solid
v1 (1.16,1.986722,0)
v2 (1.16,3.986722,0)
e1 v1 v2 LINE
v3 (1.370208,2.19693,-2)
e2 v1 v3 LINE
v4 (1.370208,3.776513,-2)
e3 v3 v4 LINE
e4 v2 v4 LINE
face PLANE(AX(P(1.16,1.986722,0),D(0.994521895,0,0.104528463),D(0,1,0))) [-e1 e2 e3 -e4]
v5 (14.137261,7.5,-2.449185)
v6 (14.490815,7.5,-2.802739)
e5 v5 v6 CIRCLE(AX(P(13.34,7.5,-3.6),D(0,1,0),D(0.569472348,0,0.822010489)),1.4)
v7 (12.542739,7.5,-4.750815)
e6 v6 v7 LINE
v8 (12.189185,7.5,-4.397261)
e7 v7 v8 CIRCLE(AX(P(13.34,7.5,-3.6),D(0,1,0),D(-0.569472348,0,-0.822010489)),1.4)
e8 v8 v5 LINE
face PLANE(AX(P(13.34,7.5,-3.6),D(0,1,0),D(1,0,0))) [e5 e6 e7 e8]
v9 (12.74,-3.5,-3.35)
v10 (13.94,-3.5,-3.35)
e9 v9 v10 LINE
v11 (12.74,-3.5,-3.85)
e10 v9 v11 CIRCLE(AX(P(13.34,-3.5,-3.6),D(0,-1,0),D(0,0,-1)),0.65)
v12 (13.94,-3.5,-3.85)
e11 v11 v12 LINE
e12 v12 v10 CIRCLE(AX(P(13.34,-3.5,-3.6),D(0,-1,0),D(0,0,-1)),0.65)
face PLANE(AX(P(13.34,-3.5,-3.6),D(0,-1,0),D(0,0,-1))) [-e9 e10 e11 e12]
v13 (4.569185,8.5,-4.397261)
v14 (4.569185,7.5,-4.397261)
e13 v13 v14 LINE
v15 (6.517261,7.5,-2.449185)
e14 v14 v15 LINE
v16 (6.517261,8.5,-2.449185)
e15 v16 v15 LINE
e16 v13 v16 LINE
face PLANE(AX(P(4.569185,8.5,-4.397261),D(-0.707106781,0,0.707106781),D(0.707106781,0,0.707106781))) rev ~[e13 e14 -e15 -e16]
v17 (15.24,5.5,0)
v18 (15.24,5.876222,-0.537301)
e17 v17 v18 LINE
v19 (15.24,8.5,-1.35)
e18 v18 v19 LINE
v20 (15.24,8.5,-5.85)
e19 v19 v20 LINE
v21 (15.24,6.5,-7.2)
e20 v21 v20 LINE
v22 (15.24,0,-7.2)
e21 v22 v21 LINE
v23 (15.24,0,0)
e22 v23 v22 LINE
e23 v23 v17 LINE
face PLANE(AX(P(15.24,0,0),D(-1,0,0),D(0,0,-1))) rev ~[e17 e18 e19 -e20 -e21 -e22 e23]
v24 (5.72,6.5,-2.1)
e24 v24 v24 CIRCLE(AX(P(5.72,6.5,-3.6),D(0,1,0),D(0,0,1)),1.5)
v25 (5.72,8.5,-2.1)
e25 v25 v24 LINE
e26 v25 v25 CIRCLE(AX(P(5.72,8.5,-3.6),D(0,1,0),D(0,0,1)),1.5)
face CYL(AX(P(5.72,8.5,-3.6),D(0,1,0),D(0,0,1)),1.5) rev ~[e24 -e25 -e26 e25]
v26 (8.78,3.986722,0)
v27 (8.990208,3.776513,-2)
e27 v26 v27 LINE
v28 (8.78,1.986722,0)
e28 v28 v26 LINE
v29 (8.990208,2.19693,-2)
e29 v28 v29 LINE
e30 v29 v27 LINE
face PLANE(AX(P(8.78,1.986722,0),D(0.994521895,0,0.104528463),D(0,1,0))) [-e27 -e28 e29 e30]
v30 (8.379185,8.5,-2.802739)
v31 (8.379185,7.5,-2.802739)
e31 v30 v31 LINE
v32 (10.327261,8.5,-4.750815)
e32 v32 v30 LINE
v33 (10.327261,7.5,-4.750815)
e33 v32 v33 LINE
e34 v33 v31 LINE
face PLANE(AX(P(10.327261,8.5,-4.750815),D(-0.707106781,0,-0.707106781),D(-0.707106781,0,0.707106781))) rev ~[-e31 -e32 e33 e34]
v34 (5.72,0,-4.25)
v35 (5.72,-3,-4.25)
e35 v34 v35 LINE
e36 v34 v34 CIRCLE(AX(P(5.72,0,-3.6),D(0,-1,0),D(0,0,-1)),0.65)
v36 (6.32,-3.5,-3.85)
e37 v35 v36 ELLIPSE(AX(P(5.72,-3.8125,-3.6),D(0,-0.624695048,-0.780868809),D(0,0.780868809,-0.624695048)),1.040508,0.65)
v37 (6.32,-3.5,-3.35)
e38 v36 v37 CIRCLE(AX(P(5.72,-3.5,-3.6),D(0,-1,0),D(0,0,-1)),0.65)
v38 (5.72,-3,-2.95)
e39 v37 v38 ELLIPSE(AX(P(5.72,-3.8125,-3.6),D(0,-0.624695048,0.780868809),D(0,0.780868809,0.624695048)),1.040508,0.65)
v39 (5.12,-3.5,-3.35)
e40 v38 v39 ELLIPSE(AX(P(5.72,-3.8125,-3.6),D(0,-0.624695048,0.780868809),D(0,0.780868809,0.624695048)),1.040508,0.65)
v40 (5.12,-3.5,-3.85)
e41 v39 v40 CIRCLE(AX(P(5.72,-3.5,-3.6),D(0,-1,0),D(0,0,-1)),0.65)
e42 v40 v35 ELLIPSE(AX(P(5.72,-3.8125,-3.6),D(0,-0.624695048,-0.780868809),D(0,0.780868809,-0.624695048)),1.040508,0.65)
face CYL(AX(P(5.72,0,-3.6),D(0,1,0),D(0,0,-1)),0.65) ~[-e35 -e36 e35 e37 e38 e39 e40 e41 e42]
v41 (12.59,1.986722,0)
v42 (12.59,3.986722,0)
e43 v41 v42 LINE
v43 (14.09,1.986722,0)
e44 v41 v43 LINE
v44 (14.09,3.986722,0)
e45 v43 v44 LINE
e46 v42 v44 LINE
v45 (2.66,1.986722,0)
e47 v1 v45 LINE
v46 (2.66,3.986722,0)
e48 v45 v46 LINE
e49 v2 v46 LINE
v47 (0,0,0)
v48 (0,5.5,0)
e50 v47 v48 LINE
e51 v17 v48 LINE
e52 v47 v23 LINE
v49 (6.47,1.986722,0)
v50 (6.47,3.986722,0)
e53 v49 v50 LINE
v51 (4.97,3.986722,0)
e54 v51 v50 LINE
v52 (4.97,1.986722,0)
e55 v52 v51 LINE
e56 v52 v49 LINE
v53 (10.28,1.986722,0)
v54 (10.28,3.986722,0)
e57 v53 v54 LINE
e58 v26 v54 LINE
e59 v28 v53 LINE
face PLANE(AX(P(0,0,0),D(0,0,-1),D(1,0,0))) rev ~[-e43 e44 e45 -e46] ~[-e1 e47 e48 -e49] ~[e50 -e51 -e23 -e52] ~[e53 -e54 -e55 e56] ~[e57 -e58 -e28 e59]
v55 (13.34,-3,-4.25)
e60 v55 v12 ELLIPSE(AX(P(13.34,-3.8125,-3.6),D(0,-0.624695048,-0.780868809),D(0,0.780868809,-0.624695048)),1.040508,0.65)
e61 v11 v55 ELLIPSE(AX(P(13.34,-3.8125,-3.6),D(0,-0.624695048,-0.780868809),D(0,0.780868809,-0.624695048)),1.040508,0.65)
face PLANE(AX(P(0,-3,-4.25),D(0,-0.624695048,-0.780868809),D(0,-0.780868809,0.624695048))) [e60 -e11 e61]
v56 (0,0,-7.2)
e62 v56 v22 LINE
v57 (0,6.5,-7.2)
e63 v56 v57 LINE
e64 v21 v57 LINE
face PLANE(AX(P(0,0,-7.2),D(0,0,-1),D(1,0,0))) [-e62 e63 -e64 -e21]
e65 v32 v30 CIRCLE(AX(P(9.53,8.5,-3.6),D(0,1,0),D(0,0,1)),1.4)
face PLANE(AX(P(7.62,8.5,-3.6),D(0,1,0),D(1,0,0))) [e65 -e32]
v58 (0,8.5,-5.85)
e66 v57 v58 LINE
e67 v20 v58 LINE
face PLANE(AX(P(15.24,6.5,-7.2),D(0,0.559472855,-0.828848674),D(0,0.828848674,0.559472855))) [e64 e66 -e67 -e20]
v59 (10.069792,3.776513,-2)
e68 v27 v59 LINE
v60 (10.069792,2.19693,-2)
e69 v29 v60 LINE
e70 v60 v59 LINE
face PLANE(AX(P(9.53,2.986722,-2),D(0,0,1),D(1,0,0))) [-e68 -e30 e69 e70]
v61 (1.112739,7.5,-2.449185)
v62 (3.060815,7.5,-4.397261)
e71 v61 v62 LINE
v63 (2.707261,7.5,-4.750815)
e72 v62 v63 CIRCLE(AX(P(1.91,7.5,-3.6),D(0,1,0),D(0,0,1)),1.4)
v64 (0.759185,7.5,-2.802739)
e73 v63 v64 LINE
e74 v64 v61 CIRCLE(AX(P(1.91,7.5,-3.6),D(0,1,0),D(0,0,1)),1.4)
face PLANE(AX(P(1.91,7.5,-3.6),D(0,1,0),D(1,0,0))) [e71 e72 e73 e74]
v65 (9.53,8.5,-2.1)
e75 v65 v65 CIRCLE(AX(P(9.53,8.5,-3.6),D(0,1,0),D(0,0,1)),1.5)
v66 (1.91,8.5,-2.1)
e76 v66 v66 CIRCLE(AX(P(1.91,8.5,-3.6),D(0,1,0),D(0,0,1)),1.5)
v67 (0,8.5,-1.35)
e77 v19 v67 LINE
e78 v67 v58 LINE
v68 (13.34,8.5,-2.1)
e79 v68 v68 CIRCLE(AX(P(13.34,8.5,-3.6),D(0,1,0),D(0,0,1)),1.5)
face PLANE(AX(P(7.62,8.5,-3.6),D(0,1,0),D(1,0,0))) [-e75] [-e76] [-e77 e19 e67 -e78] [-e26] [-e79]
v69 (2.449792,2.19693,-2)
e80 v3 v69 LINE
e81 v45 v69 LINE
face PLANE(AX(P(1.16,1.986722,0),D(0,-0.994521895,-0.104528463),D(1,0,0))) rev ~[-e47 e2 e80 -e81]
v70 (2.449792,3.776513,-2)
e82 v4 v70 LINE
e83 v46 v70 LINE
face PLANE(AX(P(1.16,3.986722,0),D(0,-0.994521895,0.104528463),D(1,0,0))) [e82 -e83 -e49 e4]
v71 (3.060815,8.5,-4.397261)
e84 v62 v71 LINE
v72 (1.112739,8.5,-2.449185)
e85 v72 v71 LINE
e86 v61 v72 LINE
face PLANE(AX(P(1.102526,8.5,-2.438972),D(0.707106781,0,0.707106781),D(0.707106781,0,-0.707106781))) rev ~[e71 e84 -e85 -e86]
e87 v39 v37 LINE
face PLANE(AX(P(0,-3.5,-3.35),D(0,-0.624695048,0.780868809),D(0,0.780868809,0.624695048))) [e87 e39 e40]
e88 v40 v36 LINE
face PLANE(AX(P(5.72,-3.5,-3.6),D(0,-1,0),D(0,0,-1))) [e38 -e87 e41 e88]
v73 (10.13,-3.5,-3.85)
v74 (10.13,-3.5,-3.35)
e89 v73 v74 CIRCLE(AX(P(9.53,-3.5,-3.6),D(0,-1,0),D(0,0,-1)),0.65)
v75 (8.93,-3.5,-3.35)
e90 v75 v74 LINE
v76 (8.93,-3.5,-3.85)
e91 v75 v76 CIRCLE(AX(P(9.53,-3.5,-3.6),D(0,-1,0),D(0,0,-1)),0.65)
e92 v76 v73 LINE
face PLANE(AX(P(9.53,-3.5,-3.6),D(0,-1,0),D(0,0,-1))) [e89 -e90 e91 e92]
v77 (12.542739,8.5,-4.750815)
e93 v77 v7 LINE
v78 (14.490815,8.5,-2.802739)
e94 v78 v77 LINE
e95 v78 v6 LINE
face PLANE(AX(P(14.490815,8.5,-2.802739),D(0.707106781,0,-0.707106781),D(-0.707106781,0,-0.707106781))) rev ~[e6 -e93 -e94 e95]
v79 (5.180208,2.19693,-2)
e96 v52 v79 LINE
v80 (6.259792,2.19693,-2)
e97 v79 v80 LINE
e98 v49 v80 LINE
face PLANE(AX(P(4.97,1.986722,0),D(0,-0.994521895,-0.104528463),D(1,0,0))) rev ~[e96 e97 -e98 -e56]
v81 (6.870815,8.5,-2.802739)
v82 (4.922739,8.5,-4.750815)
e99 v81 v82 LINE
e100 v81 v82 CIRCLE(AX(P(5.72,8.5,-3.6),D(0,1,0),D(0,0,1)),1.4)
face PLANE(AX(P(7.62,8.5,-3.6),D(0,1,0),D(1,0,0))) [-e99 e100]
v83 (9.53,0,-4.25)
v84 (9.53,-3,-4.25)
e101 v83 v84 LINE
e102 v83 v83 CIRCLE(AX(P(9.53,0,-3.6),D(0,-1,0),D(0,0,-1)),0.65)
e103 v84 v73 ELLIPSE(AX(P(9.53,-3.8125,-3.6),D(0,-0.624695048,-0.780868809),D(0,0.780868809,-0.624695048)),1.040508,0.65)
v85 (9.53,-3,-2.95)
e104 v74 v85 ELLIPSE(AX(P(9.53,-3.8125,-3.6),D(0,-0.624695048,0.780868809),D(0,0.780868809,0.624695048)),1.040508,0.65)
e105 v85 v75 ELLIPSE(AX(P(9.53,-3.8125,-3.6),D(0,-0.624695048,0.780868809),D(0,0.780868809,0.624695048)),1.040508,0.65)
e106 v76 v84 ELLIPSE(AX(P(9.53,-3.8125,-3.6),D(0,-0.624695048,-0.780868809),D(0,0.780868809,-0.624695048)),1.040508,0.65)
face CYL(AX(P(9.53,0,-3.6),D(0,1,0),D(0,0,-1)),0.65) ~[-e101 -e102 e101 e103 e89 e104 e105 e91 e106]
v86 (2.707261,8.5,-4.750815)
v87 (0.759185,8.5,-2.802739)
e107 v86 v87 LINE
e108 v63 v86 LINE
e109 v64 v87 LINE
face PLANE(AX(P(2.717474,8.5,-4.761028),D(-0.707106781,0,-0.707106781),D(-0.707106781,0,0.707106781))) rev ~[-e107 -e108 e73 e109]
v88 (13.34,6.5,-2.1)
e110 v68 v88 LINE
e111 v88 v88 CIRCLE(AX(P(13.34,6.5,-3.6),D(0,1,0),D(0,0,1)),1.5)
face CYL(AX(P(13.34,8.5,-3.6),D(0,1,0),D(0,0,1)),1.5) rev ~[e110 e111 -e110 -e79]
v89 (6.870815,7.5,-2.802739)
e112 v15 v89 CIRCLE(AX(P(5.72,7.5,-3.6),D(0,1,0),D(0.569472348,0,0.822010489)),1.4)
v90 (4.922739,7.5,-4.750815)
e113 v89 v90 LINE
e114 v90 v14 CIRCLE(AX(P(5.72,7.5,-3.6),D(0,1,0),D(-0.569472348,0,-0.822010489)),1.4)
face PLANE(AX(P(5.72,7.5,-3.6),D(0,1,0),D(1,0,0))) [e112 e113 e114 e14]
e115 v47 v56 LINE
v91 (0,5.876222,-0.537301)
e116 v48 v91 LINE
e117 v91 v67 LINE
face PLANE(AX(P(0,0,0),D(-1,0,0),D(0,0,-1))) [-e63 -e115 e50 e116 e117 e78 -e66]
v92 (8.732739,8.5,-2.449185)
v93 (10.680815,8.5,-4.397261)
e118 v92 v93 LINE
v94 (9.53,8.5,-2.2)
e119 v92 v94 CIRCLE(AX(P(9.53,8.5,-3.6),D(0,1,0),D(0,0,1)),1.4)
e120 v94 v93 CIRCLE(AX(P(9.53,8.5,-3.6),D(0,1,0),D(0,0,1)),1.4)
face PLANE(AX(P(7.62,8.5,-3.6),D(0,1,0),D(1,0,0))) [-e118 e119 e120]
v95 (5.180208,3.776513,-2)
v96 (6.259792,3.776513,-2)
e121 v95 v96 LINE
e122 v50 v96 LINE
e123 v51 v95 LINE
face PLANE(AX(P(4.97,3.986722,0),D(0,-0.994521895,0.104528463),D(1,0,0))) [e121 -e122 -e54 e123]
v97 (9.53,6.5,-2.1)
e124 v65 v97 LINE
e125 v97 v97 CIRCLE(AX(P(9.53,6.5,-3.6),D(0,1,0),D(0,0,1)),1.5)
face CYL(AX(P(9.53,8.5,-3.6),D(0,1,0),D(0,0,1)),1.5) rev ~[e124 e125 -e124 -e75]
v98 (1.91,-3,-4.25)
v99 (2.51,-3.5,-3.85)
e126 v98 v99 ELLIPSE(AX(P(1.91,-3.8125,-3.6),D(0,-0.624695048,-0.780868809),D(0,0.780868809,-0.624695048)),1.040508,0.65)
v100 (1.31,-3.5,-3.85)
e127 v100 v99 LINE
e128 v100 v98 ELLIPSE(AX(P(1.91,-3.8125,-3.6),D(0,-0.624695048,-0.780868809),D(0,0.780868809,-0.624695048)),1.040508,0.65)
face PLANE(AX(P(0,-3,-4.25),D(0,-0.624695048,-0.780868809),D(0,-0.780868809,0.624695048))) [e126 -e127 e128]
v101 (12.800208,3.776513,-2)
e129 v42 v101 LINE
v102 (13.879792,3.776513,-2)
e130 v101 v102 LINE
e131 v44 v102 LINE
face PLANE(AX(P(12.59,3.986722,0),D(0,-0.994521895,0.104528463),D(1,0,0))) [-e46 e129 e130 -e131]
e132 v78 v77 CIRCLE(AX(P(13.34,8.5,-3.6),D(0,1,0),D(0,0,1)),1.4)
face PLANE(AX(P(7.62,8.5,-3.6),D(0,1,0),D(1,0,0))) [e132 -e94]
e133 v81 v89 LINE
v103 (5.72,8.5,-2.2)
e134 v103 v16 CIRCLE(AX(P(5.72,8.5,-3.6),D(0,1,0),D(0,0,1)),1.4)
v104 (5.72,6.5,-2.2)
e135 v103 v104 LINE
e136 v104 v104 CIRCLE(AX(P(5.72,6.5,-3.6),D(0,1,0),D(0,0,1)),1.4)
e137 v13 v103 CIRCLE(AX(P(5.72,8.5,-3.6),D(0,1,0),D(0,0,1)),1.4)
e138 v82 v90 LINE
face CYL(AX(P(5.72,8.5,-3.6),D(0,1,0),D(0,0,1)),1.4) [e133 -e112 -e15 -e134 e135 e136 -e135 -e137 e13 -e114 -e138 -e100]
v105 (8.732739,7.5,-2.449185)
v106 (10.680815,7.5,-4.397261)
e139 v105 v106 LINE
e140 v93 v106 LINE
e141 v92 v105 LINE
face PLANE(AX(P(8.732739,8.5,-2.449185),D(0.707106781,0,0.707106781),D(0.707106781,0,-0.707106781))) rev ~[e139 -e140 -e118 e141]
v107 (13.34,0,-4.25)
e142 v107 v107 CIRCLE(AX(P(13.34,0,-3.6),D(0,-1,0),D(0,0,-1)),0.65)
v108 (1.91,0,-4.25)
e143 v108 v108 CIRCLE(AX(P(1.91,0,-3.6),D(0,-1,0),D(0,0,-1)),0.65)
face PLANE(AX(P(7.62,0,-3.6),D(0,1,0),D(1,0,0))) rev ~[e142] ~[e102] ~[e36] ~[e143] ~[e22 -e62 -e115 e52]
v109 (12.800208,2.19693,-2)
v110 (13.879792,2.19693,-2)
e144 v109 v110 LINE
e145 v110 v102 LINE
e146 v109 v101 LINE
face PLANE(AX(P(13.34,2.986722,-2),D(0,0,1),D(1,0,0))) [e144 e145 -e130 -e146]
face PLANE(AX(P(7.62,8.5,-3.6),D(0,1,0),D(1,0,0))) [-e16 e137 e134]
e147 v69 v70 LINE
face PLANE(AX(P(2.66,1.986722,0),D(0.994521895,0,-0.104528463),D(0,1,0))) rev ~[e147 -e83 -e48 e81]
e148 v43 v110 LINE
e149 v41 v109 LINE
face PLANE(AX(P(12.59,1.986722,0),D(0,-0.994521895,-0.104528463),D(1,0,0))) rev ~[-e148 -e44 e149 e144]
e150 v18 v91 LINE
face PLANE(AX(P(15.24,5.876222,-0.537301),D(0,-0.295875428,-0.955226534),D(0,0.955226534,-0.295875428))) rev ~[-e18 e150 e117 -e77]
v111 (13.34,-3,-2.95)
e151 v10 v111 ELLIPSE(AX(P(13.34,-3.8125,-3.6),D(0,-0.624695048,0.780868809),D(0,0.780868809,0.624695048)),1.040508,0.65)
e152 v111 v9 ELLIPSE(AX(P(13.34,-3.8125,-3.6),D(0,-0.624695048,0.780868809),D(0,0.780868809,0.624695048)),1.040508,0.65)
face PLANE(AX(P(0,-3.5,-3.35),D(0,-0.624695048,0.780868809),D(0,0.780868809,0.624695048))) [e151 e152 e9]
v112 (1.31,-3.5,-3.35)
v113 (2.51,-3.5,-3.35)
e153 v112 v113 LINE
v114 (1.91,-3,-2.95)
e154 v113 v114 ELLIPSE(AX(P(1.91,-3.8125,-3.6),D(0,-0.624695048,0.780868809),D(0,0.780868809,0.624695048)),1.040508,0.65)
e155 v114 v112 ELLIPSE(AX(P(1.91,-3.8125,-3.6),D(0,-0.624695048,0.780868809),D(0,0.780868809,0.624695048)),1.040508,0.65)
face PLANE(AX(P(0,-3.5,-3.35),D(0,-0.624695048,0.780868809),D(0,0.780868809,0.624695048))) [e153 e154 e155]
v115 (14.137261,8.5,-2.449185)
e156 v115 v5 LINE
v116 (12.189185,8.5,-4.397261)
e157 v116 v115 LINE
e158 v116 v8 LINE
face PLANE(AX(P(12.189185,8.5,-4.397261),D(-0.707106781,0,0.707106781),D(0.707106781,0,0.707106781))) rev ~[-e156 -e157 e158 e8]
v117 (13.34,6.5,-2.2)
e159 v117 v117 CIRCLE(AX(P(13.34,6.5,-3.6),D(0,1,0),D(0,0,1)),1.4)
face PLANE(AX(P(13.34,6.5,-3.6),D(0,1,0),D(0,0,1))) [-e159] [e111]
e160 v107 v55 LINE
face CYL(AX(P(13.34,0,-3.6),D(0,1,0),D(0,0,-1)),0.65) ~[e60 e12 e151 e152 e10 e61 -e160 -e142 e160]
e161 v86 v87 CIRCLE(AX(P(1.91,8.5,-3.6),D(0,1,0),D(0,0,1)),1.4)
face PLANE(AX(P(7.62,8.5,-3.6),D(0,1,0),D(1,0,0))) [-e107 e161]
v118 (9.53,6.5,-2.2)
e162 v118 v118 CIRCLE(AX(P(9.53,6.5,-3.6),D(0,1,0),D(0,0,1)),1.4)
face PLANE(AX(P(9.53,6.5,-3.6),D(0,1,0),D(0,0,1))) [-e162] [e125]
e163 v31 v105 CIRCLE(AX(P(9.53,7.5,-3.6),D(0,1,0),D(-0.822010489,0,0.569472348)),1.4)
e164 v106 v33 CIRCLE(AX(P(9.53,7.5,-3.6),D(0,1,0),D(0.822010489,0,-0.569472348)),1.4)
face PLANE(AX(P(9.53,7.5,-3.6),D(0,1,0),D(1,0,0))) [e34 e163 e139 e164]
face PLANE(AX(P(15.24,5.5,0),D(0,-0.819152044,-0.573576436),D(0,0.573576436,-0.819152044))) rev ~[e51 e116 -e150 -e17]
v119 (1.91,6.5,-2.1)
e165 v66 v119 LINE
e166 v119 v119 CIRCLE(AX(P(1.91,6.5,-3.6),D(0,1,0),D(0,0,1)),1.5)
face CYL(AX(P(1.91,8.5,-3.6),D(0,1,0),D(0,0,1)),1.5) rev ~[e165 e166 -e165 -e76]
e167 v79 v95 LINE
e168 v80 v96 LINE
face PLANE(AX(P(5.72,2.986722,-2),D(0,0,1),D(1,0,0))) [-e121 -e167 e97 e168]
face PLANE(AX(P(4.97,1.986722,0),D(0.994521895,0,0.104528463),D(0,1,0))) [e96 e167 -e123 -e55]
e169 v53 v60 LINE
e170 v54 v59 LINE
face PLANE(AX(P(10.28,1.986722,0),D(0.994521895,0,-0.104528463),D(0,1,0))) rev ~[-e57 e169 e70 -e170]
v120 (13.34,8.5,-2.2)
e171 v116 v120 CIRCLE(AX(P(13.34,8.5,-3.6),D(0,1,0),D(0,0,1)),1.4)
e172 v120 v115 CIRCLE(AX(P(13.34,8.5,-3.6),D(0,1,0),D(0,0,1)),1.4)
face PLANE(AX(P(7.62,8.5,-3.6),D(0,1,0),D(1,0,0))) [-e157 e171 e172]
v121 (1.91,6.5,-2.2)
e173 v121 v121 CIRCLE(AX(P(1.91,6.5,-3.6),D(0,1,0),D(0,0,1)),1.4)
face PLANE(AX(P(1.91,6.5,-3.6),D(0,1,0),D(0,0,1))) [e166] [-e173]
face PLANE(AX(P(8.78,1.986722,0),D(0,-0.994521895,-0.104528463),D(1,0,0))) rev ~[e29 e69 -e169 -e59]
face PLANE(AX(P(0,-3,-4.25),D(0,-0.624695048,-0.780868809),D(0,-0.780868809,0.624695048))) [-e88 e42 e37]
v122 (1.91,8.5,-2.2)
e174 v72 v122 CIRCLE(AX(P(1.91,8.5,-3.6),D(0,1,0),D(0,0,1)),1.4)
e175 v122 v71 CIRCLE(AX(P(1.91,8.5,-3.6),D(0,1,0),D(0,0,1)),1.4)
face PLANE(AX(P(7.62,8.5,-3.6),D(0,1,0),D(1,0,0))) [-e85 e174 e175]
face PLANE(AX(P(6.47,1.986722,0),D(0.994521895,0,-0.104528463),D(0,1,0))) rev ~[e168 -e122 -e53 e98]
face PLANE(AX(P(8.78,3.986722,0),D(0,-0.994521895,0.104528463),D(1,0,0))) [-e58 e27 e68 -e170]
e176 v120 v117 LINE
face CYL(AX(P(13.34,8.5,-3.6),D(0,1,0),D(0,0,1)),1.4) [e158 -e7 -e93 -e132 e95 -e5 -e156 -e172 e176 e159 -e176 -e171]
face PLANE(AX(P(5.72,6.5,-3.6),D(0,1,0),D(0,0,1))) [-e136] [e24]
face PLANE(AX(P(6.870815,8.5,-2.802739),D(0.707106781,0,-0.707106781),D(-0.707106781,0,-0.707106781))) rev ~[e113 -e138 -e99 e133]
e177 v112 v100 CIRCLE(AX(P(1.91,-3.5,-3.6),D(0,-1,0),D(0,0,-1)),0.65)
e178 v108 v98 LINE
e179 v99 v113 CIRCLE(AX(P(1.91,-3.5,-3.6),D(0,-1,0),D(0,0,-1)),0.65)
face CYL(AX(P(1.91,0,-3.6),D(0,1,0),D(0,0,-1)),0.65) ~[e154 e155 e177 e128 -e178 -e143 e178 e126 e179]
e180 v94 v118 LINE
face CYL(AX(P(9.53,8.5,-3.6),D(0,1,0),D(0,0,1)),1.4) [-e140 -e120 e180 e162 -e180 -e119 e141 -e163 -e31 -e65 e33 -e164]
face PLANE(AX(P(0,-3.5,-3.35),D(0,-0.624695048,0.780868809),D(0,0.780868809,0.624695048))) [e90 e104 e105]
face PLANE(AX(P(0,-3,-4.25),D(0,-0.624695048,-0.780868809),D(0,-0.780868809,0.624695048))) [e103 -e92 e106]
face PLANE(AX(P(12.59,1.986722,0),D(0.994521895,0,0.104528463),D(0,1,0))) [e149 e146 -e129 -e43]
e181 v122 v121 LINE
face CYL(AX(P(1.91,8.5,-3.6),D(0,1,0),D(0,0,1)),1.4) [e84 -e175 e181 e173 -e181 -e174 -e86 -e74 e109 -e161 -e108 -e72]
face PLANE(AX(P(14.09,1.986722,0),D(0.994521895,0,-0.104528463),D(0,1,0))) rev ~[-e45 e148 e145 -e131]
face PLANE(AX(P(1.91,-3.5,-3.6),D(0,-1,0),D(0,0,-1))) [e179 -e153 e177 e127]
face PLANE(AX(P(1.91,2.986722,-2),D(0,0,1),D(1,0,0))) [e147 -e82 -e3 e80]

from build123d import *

# Parameters (mm, degrees)
SKETCH3_W                    = 15.24
SKETCH3_H                    = 7.2
BOSS_EXTRUDE1_DEPTH          = 8.5
SKETCH4_R                    = 0.65
BOSS_EXTRUDE2_DEPTH          = 3.5
CUT_EXTRUDE1_REACH           = 20.877
CUT_EXTRUDE3_DEPTH           = 15.24
SKETCH13_W                   = 1.5
SKETCH13_H                   = 2
CUT_EXTRUDE4_DEPTH           = 2
CUT_EXTRUDE4_DRAFT           = -6
CUT_EXTRUDE4_PROFILE_2_DEPTH = 2
CUT_EXTRUDE4_PROFILE_2_DRAFT = -6
CUT_EXTRUDE4_PROFILE_3_DEPTH = 2
CUT_EXTRUDE4_PROFILE_3_DRAFT = -6
CUT_EXTRUDE4_PROFILE_4_DEPTH = 2
CUT_EXTRUDE4_PROFILE_4_DRAFT = -6
SKETCH14_R                   = 1.5
SKETCH14_R_2                 = 1.4
CUT_EXTRUDE5_DEPTH           = 2
CUT_EXTRUDE6_DEPTH           = 1


with BuildPart() as part:
    # Sketch3 → Boss-Extrude1 (new body)
    with BuildSketch(Plane(origin=(0, 0, 0), x_dir=(1, 0, 0), z_dir=(0, 1, 0))):
        with Locations((7.62, 3.6)):
            Rectangle(SKETCH3_W, SKETCH3_H)
    extrude(amount=BOSS_EXTRUDE1_DEPTH)

    # Sketch4 → Boss-Extrude2 (add)
    with BuildSketch(Plane(origin=(0, 0, 0), x_dir=(-1, 0, 0), z_dir=(0, -1, 0))):
        with Locations(Location((-1.91, 3.6, 0), (0, 0, 90))):
            Circle(SKETCH4_R)
        with Locations(Location((-5.72, 3.6, 0), (0, 0, 90))):
            Circle(SKETCH4_R)
        with Locations(Location((-9.53, 3.6, 0), (0, 0, 90))):
            Circle(SKETCH4_R)
        with Locations(Location((-13.34, 3.6, 0), (0, 0, 90))):
            Circle(SKETCH4_R)
    extrude(amount=BOSS_EXTRUDE2_DEPTH)

    # Cut-Extrude1: up to this face of the body (flat: up to its plane)
    cut_extrude1_end = Plane(part.part.faces().sort_by_distance((15.24, 4.25, -3.6))[0])
    # Sketch5 → Cut-Extrude1 (cut, up to the picked face)
    with BuildSketch(Plane.ZY, mode=Mode.PRIVATE) as cut_extrude1_sk1:
        Polygon((-2.95, -3), (-2.95, -3.5), (-3.35, -3.5), align=None)
    cut_extrude1_tool1 = split(extrude(cut_extrude1_sk1.sketch, amount=-CUT_EXTRUDE1_REACH, mode=Mode.PRIVATE), bisect_by=cut_extrude1_end, keep=Keep.BOTH, mode=Mode.PRIVATE)
    # Sketch5 → Cut-Extrude1 (cut, up to the picked face)
    with BuildSketch(Plane.ZY, mode=Mode.PRIVATE) as cut_extrude1_sk2:
        Polygon((-4.25, -3), (-3.85, -3.5), (-4.25, -3.5), align=None)
    cut_extrude1_tool2 = split(extrude(cut_extrude1_sk2.sketch, amount=-CUT_EXTRUDE1_REACH, mode=Mode.PRIVATE), bisect_by=cut_extrude1_end, keep=Keep.BOTH, mode=Mode.PRIVATE)
    add(cut_extrude1_tool1.solids().sort_by(Axis((0, -3.333333, -3.083333), (1, 0, 0)))[0], mode=Mode.SUBTRACT)
    add(cut_extrude1_tool2.solids().sort_by(Axis((0, -3.333333, -4.116667), (1, 0, 0)))[0], mode=Mode.SUBTRACT)

    # Sketch8 → Cut-Extrude3 (cut)
    with BuildSketch(Plane(origin=(15.24, 0, 0), x_dir=(0, 0, -1), z_dir=(1, 0, 0))):
        Polygon((0, 5.5), (0.537301365, 5.876222466), (1.35, 8.5), (0, 8.5), align=None)
        Polygon((7.2, 6.5), (5.85, 8.5), (7.2, 8.5), align=None)
    extrude(amount=-CUT_EXTRUDE3_DEPTH, mode=Mode.SUBTRACT)


with BuildPart() as cut_extrude4_tool:
    # Sketch13 → Cut-Extrude4 (with draft: the straight prism first)
    with BuildSketch(Plane.XY):
        with Locations((13.34, 2.98672158)):
            Rectangle(SKETCH13_W, SKETCH13_H)
    extrude(amount=-CUT_EXTRUDE4_DEPTH)
    # Cut-Extrude4: the draft: its side faces are tilted about the plane it starts from
    cut_extrude4_sides = [cut_extrude4_tool.faces().sort_by_distance(p)[0] for p in [
        (13.34, 1.98672158, -1),
        (14.09, 2.98672158, -1),
        (13.34, 3.98672158, -1),
        (12.59, 2.98672158, -1),
    ]]
    draft(cut_extrude4_sides, Plane.XY, CUT_EXTRUDE4_DRAFT)


with BuildPart() as part_1:
    add(part.part)

    # Cut-Extrude4: cut by cut_extrude4_tool
    add(cut_extrude4_tool.part, mode=Mode.SUBTRACT)


with BuildPart() as cut_extrude4_profile_2_tool:
    # Sketch13 → Cut-Extrude4 profile 2 (with draft: the straight prism first)
    with BuildSketch(Plane.XY):
        with Locations((9.53, 2.98672158)):
            Rectangle(SKETCH13_W, SKETCH13_H)
    extrude(amount=-CUT_EXTRUDE4_PROFILE_2_DEPTH)
    # Cut-Extrude4 profile 2: the draft: its side faces are tilted about the plane it starts from
    cut_extrude4_profile_2_sides = [cut_extrude4_profile_2_tool.faces().sort_by_distance(p)[0] for p in [
        (9.53, 1.98672158, -1),
        (10.28, 2.98672158, -1),
        (9.53, 3.98672158, -1),
        (8.78, 2.98672158, -1),
    ]]
    draft(cut_extrude4_profile_2_sides, Plane.XY, CUT_EXTRUDE4_PROFILE_2_DRAFT)


with BuildPart() as part_2:
    add(part_1.part)

    # Cut-Extrude4 profile 2: cut by cut_extrude4_profile_2_tool
    add(cut_extrude4_profile_2_tool.part, mode=Mode.SUBTRACT)


with BuildPart() as cut_extrude4_profile_3_tool:
    # Sketch13 → Cut-Extrude4 profile 3 (with draft: the straight prism first)
    with BuildSketch(Plane.XY):
        with Locations((5.72, 2.98672158)):
            Rectangle(SKETCH13_W, SKETCH13_H)
    extrude(amount=-CUT_EXTRUDE4_PROFILE_3_DEPTH)
    # Cut-Extrude4 profile 3: the draft: its side faces are tilted about the plane it starts from
    cut_extrude4_profile_3_sides = [cut_extrude4_profile_3_tool.faces().sort_by_distance(p)[0] for p in [
        (5.72, 1.98672158, -1),
        (6.47, 2.98672158, -1),
        (5.72, 3.98672158, -1),
        (4.97, 2.98672158, -1),
    ]]
    draft(cut_extrude4_profile_3_sides, Plane.XY, CUT_EXTRUDE4_PROFILE_3_DRAFT)


with BuildPart() as part_3:
    add(part_2.part)

    # Cut-Extrude4 profile 3: cut by cut_extrude4_profile_3_tool
    add(cut_extrude4_profile_3_tool.part, mode=Mode.SUBTRACT)


with BuildPart() as cut_extrude4_profile_4_tool:
    # Sketch13 → Cut-Extrude4 profile 4 (with draft: the straight prism first)
    with BuildSketch(Plane.XY):
        with Locations((1.91, 2.98672158)):
            Rectangle(SKETCH13_W, SKETCH13_H)
    extrude(amount=-CUT_EXTRUDE4_PROFILE_4_DEPTH)
    # Cut-Extrude4 profile 4: the draft: its side faces are tilted about the plane it starts from
    cut_extrude4_profile_4_sides = [cut_extrude4_profile_4_tool.faces().sort_by_distance(p)[0] for p in [
        (1.91, 1.98672158, -1),
        (2.66, 2.98672158, -1),
        (1.91, 3.98672158, -1),
        (1.16, 2.98672158, -1),
    ]]
    draft(cut_extrude4_profile_4_sides, Plane.XY, CUT_EXTRUDE4_PROFILE_4_DRAFT)


with BuildPart() as part_4:
    add(part_3.part)

    # Cut-Extrude4 profile 4: cut by cut_extrude4_profile_4_tool
    add(cut_extrude4_profile_4_tool.part, mode=Mode.SUBTRACT)

    # Sketch14 → Cut-Extrude5 (cut)
    # profile 1 of 4: a face of its own
    with BuildSketch(Plane(origin=(0, 8.5, 0), x_dir=(1, 0, 0), z_dir=(0, 1, 0))):
        with Locations(Location((1.91, 3.6, 0), (0, 0, 270))):
            Circle(SKETCH14_R)
        with Locations(Location((1.91, 3.6, 0), (0, 0, 270))):
            Circle(SKETCH14_R_2, mode=Mode.SUBTRACT)
    # profile 2 of 4: a face of its own
    with BuildSketch(Plane(origin=(0, 8.5, 0), x_dir=(1, 0, 0), z_dir=(0, 1, 0))):
        with Locations(Location((5.72, 3.6, 0), (0, 0, 270))):
            Circle(SKETCH14_R)
        with Locations(Location((5.72, 3.6, 0), (0, 0, 270))):
            Circle(SKETCH14_R_2, mode=Mode.SUBTRACT)
    # profile 3 of 4: a face of its own
    with BuildSketch(Plane(origin=(0, 8.5, 0), x_dir=(1, 0, 0), z_dir=(0, 1, 0))):
        with Locations(Location((9.53, 3.6, 0), (0, 0, 270))):
            Circle(SKETCH14_R)
        with Locations(Location((9.53, 3.6, 0), (0, 0, 270))):
            Circle(SKETCH14_R_2, mode=Mode.SUBTRACT)
    # profile 4 of 4: a face of its own
    with BuildSketch(Plane(origin=(0, 8.5, 0), x_dir=(1, 0, 0), z_dir=(0, 1, 0))):
        with Locations(Location((13.34, 3.6, 0), (0, 0, 270))):
            Circle(SKETCH14_R)
        with Locations(Location((13.34, 3.6, 0), (0, 0, 270))):
            Circle(SKETCH14_R_2, mode=Mode.SUBTRACT)
    extrude(amount=-CUT_EXTRUDE5_DEPTH, mode=Mode.SUBTRACT)

    # Sketch15 → Cut-Extrude6 (cut)
    with BuildSketch(Plane(origin=(0, 8.5, 0), x_dir=(1, 0, 0), z_dir=(0, 1, 0))):
        with BuildLine():
            Line((1.102525711, 2.43897232), (3.07102768, 4.407474289))
            ThreePointArc((3.07102768, 4.407474289), (2.91, 4.6), (2.717474289, 4.76102768))
            Line((2.717474289, 4.76102768), (0.74897232, 2.792525711))
            ThreePointArc((0.74897232, 2.792525711), (0.91, 2.6), (1.102525711, 2.43897232))
        make_face()
        with BuildLine():
            Line((8.732738708, 2.449185318), (10.680814682, 4.397261292))
            ThreePointArc((10.680814682, 4.397261292), (10.519949494, 4.589949494), (10.327261292, 4.750814682))
            Line((10.327261292, 4.750814682), (8.379185318, 2.802738708))
            ThreePointArc((8.379185318, 2.802738708), (8.540050506, 2.610050506), (8.732738708, 2.449185318))
        make_face()
        with BuildLine():
            Line((6.870814682, 2.802738708), (4.922738708, 4.750814682))
            ThreePointArc((4.922738708, 4.750814682), (4.730050506, 4.589949494), (4.569185318, 4.397261292))
            Line((4.569185318, 4.397261292), (6.517261292, 2.449185318))
            ThreePointArc((6.517261292, 2.449185318), (6.709949494, 2.610050506), (6.870814682, 2.802738708))
        make_face()
        with BuildLine():
            Line((14.490814682, 2.802738708), (12.542738708, 4.750814682))
            ThreePointArc((12.542738708, 4.750814682), (12.350050506, 4.589949494), (12.189185318, 4.397261292))
            Line((12.189185318, 4.397261292), (14.137261292, 2.449185318))
            ThreePointArc((14.137261292, 2.449185318), (14.329949494, 2.610050506), (14.490814682, 2.802738708))
        make_face()
    extrude(amount=-CUT_EXTRUDE6_DEPTH, mode=Mode.SUBTRACT)


solid = part_4.part
